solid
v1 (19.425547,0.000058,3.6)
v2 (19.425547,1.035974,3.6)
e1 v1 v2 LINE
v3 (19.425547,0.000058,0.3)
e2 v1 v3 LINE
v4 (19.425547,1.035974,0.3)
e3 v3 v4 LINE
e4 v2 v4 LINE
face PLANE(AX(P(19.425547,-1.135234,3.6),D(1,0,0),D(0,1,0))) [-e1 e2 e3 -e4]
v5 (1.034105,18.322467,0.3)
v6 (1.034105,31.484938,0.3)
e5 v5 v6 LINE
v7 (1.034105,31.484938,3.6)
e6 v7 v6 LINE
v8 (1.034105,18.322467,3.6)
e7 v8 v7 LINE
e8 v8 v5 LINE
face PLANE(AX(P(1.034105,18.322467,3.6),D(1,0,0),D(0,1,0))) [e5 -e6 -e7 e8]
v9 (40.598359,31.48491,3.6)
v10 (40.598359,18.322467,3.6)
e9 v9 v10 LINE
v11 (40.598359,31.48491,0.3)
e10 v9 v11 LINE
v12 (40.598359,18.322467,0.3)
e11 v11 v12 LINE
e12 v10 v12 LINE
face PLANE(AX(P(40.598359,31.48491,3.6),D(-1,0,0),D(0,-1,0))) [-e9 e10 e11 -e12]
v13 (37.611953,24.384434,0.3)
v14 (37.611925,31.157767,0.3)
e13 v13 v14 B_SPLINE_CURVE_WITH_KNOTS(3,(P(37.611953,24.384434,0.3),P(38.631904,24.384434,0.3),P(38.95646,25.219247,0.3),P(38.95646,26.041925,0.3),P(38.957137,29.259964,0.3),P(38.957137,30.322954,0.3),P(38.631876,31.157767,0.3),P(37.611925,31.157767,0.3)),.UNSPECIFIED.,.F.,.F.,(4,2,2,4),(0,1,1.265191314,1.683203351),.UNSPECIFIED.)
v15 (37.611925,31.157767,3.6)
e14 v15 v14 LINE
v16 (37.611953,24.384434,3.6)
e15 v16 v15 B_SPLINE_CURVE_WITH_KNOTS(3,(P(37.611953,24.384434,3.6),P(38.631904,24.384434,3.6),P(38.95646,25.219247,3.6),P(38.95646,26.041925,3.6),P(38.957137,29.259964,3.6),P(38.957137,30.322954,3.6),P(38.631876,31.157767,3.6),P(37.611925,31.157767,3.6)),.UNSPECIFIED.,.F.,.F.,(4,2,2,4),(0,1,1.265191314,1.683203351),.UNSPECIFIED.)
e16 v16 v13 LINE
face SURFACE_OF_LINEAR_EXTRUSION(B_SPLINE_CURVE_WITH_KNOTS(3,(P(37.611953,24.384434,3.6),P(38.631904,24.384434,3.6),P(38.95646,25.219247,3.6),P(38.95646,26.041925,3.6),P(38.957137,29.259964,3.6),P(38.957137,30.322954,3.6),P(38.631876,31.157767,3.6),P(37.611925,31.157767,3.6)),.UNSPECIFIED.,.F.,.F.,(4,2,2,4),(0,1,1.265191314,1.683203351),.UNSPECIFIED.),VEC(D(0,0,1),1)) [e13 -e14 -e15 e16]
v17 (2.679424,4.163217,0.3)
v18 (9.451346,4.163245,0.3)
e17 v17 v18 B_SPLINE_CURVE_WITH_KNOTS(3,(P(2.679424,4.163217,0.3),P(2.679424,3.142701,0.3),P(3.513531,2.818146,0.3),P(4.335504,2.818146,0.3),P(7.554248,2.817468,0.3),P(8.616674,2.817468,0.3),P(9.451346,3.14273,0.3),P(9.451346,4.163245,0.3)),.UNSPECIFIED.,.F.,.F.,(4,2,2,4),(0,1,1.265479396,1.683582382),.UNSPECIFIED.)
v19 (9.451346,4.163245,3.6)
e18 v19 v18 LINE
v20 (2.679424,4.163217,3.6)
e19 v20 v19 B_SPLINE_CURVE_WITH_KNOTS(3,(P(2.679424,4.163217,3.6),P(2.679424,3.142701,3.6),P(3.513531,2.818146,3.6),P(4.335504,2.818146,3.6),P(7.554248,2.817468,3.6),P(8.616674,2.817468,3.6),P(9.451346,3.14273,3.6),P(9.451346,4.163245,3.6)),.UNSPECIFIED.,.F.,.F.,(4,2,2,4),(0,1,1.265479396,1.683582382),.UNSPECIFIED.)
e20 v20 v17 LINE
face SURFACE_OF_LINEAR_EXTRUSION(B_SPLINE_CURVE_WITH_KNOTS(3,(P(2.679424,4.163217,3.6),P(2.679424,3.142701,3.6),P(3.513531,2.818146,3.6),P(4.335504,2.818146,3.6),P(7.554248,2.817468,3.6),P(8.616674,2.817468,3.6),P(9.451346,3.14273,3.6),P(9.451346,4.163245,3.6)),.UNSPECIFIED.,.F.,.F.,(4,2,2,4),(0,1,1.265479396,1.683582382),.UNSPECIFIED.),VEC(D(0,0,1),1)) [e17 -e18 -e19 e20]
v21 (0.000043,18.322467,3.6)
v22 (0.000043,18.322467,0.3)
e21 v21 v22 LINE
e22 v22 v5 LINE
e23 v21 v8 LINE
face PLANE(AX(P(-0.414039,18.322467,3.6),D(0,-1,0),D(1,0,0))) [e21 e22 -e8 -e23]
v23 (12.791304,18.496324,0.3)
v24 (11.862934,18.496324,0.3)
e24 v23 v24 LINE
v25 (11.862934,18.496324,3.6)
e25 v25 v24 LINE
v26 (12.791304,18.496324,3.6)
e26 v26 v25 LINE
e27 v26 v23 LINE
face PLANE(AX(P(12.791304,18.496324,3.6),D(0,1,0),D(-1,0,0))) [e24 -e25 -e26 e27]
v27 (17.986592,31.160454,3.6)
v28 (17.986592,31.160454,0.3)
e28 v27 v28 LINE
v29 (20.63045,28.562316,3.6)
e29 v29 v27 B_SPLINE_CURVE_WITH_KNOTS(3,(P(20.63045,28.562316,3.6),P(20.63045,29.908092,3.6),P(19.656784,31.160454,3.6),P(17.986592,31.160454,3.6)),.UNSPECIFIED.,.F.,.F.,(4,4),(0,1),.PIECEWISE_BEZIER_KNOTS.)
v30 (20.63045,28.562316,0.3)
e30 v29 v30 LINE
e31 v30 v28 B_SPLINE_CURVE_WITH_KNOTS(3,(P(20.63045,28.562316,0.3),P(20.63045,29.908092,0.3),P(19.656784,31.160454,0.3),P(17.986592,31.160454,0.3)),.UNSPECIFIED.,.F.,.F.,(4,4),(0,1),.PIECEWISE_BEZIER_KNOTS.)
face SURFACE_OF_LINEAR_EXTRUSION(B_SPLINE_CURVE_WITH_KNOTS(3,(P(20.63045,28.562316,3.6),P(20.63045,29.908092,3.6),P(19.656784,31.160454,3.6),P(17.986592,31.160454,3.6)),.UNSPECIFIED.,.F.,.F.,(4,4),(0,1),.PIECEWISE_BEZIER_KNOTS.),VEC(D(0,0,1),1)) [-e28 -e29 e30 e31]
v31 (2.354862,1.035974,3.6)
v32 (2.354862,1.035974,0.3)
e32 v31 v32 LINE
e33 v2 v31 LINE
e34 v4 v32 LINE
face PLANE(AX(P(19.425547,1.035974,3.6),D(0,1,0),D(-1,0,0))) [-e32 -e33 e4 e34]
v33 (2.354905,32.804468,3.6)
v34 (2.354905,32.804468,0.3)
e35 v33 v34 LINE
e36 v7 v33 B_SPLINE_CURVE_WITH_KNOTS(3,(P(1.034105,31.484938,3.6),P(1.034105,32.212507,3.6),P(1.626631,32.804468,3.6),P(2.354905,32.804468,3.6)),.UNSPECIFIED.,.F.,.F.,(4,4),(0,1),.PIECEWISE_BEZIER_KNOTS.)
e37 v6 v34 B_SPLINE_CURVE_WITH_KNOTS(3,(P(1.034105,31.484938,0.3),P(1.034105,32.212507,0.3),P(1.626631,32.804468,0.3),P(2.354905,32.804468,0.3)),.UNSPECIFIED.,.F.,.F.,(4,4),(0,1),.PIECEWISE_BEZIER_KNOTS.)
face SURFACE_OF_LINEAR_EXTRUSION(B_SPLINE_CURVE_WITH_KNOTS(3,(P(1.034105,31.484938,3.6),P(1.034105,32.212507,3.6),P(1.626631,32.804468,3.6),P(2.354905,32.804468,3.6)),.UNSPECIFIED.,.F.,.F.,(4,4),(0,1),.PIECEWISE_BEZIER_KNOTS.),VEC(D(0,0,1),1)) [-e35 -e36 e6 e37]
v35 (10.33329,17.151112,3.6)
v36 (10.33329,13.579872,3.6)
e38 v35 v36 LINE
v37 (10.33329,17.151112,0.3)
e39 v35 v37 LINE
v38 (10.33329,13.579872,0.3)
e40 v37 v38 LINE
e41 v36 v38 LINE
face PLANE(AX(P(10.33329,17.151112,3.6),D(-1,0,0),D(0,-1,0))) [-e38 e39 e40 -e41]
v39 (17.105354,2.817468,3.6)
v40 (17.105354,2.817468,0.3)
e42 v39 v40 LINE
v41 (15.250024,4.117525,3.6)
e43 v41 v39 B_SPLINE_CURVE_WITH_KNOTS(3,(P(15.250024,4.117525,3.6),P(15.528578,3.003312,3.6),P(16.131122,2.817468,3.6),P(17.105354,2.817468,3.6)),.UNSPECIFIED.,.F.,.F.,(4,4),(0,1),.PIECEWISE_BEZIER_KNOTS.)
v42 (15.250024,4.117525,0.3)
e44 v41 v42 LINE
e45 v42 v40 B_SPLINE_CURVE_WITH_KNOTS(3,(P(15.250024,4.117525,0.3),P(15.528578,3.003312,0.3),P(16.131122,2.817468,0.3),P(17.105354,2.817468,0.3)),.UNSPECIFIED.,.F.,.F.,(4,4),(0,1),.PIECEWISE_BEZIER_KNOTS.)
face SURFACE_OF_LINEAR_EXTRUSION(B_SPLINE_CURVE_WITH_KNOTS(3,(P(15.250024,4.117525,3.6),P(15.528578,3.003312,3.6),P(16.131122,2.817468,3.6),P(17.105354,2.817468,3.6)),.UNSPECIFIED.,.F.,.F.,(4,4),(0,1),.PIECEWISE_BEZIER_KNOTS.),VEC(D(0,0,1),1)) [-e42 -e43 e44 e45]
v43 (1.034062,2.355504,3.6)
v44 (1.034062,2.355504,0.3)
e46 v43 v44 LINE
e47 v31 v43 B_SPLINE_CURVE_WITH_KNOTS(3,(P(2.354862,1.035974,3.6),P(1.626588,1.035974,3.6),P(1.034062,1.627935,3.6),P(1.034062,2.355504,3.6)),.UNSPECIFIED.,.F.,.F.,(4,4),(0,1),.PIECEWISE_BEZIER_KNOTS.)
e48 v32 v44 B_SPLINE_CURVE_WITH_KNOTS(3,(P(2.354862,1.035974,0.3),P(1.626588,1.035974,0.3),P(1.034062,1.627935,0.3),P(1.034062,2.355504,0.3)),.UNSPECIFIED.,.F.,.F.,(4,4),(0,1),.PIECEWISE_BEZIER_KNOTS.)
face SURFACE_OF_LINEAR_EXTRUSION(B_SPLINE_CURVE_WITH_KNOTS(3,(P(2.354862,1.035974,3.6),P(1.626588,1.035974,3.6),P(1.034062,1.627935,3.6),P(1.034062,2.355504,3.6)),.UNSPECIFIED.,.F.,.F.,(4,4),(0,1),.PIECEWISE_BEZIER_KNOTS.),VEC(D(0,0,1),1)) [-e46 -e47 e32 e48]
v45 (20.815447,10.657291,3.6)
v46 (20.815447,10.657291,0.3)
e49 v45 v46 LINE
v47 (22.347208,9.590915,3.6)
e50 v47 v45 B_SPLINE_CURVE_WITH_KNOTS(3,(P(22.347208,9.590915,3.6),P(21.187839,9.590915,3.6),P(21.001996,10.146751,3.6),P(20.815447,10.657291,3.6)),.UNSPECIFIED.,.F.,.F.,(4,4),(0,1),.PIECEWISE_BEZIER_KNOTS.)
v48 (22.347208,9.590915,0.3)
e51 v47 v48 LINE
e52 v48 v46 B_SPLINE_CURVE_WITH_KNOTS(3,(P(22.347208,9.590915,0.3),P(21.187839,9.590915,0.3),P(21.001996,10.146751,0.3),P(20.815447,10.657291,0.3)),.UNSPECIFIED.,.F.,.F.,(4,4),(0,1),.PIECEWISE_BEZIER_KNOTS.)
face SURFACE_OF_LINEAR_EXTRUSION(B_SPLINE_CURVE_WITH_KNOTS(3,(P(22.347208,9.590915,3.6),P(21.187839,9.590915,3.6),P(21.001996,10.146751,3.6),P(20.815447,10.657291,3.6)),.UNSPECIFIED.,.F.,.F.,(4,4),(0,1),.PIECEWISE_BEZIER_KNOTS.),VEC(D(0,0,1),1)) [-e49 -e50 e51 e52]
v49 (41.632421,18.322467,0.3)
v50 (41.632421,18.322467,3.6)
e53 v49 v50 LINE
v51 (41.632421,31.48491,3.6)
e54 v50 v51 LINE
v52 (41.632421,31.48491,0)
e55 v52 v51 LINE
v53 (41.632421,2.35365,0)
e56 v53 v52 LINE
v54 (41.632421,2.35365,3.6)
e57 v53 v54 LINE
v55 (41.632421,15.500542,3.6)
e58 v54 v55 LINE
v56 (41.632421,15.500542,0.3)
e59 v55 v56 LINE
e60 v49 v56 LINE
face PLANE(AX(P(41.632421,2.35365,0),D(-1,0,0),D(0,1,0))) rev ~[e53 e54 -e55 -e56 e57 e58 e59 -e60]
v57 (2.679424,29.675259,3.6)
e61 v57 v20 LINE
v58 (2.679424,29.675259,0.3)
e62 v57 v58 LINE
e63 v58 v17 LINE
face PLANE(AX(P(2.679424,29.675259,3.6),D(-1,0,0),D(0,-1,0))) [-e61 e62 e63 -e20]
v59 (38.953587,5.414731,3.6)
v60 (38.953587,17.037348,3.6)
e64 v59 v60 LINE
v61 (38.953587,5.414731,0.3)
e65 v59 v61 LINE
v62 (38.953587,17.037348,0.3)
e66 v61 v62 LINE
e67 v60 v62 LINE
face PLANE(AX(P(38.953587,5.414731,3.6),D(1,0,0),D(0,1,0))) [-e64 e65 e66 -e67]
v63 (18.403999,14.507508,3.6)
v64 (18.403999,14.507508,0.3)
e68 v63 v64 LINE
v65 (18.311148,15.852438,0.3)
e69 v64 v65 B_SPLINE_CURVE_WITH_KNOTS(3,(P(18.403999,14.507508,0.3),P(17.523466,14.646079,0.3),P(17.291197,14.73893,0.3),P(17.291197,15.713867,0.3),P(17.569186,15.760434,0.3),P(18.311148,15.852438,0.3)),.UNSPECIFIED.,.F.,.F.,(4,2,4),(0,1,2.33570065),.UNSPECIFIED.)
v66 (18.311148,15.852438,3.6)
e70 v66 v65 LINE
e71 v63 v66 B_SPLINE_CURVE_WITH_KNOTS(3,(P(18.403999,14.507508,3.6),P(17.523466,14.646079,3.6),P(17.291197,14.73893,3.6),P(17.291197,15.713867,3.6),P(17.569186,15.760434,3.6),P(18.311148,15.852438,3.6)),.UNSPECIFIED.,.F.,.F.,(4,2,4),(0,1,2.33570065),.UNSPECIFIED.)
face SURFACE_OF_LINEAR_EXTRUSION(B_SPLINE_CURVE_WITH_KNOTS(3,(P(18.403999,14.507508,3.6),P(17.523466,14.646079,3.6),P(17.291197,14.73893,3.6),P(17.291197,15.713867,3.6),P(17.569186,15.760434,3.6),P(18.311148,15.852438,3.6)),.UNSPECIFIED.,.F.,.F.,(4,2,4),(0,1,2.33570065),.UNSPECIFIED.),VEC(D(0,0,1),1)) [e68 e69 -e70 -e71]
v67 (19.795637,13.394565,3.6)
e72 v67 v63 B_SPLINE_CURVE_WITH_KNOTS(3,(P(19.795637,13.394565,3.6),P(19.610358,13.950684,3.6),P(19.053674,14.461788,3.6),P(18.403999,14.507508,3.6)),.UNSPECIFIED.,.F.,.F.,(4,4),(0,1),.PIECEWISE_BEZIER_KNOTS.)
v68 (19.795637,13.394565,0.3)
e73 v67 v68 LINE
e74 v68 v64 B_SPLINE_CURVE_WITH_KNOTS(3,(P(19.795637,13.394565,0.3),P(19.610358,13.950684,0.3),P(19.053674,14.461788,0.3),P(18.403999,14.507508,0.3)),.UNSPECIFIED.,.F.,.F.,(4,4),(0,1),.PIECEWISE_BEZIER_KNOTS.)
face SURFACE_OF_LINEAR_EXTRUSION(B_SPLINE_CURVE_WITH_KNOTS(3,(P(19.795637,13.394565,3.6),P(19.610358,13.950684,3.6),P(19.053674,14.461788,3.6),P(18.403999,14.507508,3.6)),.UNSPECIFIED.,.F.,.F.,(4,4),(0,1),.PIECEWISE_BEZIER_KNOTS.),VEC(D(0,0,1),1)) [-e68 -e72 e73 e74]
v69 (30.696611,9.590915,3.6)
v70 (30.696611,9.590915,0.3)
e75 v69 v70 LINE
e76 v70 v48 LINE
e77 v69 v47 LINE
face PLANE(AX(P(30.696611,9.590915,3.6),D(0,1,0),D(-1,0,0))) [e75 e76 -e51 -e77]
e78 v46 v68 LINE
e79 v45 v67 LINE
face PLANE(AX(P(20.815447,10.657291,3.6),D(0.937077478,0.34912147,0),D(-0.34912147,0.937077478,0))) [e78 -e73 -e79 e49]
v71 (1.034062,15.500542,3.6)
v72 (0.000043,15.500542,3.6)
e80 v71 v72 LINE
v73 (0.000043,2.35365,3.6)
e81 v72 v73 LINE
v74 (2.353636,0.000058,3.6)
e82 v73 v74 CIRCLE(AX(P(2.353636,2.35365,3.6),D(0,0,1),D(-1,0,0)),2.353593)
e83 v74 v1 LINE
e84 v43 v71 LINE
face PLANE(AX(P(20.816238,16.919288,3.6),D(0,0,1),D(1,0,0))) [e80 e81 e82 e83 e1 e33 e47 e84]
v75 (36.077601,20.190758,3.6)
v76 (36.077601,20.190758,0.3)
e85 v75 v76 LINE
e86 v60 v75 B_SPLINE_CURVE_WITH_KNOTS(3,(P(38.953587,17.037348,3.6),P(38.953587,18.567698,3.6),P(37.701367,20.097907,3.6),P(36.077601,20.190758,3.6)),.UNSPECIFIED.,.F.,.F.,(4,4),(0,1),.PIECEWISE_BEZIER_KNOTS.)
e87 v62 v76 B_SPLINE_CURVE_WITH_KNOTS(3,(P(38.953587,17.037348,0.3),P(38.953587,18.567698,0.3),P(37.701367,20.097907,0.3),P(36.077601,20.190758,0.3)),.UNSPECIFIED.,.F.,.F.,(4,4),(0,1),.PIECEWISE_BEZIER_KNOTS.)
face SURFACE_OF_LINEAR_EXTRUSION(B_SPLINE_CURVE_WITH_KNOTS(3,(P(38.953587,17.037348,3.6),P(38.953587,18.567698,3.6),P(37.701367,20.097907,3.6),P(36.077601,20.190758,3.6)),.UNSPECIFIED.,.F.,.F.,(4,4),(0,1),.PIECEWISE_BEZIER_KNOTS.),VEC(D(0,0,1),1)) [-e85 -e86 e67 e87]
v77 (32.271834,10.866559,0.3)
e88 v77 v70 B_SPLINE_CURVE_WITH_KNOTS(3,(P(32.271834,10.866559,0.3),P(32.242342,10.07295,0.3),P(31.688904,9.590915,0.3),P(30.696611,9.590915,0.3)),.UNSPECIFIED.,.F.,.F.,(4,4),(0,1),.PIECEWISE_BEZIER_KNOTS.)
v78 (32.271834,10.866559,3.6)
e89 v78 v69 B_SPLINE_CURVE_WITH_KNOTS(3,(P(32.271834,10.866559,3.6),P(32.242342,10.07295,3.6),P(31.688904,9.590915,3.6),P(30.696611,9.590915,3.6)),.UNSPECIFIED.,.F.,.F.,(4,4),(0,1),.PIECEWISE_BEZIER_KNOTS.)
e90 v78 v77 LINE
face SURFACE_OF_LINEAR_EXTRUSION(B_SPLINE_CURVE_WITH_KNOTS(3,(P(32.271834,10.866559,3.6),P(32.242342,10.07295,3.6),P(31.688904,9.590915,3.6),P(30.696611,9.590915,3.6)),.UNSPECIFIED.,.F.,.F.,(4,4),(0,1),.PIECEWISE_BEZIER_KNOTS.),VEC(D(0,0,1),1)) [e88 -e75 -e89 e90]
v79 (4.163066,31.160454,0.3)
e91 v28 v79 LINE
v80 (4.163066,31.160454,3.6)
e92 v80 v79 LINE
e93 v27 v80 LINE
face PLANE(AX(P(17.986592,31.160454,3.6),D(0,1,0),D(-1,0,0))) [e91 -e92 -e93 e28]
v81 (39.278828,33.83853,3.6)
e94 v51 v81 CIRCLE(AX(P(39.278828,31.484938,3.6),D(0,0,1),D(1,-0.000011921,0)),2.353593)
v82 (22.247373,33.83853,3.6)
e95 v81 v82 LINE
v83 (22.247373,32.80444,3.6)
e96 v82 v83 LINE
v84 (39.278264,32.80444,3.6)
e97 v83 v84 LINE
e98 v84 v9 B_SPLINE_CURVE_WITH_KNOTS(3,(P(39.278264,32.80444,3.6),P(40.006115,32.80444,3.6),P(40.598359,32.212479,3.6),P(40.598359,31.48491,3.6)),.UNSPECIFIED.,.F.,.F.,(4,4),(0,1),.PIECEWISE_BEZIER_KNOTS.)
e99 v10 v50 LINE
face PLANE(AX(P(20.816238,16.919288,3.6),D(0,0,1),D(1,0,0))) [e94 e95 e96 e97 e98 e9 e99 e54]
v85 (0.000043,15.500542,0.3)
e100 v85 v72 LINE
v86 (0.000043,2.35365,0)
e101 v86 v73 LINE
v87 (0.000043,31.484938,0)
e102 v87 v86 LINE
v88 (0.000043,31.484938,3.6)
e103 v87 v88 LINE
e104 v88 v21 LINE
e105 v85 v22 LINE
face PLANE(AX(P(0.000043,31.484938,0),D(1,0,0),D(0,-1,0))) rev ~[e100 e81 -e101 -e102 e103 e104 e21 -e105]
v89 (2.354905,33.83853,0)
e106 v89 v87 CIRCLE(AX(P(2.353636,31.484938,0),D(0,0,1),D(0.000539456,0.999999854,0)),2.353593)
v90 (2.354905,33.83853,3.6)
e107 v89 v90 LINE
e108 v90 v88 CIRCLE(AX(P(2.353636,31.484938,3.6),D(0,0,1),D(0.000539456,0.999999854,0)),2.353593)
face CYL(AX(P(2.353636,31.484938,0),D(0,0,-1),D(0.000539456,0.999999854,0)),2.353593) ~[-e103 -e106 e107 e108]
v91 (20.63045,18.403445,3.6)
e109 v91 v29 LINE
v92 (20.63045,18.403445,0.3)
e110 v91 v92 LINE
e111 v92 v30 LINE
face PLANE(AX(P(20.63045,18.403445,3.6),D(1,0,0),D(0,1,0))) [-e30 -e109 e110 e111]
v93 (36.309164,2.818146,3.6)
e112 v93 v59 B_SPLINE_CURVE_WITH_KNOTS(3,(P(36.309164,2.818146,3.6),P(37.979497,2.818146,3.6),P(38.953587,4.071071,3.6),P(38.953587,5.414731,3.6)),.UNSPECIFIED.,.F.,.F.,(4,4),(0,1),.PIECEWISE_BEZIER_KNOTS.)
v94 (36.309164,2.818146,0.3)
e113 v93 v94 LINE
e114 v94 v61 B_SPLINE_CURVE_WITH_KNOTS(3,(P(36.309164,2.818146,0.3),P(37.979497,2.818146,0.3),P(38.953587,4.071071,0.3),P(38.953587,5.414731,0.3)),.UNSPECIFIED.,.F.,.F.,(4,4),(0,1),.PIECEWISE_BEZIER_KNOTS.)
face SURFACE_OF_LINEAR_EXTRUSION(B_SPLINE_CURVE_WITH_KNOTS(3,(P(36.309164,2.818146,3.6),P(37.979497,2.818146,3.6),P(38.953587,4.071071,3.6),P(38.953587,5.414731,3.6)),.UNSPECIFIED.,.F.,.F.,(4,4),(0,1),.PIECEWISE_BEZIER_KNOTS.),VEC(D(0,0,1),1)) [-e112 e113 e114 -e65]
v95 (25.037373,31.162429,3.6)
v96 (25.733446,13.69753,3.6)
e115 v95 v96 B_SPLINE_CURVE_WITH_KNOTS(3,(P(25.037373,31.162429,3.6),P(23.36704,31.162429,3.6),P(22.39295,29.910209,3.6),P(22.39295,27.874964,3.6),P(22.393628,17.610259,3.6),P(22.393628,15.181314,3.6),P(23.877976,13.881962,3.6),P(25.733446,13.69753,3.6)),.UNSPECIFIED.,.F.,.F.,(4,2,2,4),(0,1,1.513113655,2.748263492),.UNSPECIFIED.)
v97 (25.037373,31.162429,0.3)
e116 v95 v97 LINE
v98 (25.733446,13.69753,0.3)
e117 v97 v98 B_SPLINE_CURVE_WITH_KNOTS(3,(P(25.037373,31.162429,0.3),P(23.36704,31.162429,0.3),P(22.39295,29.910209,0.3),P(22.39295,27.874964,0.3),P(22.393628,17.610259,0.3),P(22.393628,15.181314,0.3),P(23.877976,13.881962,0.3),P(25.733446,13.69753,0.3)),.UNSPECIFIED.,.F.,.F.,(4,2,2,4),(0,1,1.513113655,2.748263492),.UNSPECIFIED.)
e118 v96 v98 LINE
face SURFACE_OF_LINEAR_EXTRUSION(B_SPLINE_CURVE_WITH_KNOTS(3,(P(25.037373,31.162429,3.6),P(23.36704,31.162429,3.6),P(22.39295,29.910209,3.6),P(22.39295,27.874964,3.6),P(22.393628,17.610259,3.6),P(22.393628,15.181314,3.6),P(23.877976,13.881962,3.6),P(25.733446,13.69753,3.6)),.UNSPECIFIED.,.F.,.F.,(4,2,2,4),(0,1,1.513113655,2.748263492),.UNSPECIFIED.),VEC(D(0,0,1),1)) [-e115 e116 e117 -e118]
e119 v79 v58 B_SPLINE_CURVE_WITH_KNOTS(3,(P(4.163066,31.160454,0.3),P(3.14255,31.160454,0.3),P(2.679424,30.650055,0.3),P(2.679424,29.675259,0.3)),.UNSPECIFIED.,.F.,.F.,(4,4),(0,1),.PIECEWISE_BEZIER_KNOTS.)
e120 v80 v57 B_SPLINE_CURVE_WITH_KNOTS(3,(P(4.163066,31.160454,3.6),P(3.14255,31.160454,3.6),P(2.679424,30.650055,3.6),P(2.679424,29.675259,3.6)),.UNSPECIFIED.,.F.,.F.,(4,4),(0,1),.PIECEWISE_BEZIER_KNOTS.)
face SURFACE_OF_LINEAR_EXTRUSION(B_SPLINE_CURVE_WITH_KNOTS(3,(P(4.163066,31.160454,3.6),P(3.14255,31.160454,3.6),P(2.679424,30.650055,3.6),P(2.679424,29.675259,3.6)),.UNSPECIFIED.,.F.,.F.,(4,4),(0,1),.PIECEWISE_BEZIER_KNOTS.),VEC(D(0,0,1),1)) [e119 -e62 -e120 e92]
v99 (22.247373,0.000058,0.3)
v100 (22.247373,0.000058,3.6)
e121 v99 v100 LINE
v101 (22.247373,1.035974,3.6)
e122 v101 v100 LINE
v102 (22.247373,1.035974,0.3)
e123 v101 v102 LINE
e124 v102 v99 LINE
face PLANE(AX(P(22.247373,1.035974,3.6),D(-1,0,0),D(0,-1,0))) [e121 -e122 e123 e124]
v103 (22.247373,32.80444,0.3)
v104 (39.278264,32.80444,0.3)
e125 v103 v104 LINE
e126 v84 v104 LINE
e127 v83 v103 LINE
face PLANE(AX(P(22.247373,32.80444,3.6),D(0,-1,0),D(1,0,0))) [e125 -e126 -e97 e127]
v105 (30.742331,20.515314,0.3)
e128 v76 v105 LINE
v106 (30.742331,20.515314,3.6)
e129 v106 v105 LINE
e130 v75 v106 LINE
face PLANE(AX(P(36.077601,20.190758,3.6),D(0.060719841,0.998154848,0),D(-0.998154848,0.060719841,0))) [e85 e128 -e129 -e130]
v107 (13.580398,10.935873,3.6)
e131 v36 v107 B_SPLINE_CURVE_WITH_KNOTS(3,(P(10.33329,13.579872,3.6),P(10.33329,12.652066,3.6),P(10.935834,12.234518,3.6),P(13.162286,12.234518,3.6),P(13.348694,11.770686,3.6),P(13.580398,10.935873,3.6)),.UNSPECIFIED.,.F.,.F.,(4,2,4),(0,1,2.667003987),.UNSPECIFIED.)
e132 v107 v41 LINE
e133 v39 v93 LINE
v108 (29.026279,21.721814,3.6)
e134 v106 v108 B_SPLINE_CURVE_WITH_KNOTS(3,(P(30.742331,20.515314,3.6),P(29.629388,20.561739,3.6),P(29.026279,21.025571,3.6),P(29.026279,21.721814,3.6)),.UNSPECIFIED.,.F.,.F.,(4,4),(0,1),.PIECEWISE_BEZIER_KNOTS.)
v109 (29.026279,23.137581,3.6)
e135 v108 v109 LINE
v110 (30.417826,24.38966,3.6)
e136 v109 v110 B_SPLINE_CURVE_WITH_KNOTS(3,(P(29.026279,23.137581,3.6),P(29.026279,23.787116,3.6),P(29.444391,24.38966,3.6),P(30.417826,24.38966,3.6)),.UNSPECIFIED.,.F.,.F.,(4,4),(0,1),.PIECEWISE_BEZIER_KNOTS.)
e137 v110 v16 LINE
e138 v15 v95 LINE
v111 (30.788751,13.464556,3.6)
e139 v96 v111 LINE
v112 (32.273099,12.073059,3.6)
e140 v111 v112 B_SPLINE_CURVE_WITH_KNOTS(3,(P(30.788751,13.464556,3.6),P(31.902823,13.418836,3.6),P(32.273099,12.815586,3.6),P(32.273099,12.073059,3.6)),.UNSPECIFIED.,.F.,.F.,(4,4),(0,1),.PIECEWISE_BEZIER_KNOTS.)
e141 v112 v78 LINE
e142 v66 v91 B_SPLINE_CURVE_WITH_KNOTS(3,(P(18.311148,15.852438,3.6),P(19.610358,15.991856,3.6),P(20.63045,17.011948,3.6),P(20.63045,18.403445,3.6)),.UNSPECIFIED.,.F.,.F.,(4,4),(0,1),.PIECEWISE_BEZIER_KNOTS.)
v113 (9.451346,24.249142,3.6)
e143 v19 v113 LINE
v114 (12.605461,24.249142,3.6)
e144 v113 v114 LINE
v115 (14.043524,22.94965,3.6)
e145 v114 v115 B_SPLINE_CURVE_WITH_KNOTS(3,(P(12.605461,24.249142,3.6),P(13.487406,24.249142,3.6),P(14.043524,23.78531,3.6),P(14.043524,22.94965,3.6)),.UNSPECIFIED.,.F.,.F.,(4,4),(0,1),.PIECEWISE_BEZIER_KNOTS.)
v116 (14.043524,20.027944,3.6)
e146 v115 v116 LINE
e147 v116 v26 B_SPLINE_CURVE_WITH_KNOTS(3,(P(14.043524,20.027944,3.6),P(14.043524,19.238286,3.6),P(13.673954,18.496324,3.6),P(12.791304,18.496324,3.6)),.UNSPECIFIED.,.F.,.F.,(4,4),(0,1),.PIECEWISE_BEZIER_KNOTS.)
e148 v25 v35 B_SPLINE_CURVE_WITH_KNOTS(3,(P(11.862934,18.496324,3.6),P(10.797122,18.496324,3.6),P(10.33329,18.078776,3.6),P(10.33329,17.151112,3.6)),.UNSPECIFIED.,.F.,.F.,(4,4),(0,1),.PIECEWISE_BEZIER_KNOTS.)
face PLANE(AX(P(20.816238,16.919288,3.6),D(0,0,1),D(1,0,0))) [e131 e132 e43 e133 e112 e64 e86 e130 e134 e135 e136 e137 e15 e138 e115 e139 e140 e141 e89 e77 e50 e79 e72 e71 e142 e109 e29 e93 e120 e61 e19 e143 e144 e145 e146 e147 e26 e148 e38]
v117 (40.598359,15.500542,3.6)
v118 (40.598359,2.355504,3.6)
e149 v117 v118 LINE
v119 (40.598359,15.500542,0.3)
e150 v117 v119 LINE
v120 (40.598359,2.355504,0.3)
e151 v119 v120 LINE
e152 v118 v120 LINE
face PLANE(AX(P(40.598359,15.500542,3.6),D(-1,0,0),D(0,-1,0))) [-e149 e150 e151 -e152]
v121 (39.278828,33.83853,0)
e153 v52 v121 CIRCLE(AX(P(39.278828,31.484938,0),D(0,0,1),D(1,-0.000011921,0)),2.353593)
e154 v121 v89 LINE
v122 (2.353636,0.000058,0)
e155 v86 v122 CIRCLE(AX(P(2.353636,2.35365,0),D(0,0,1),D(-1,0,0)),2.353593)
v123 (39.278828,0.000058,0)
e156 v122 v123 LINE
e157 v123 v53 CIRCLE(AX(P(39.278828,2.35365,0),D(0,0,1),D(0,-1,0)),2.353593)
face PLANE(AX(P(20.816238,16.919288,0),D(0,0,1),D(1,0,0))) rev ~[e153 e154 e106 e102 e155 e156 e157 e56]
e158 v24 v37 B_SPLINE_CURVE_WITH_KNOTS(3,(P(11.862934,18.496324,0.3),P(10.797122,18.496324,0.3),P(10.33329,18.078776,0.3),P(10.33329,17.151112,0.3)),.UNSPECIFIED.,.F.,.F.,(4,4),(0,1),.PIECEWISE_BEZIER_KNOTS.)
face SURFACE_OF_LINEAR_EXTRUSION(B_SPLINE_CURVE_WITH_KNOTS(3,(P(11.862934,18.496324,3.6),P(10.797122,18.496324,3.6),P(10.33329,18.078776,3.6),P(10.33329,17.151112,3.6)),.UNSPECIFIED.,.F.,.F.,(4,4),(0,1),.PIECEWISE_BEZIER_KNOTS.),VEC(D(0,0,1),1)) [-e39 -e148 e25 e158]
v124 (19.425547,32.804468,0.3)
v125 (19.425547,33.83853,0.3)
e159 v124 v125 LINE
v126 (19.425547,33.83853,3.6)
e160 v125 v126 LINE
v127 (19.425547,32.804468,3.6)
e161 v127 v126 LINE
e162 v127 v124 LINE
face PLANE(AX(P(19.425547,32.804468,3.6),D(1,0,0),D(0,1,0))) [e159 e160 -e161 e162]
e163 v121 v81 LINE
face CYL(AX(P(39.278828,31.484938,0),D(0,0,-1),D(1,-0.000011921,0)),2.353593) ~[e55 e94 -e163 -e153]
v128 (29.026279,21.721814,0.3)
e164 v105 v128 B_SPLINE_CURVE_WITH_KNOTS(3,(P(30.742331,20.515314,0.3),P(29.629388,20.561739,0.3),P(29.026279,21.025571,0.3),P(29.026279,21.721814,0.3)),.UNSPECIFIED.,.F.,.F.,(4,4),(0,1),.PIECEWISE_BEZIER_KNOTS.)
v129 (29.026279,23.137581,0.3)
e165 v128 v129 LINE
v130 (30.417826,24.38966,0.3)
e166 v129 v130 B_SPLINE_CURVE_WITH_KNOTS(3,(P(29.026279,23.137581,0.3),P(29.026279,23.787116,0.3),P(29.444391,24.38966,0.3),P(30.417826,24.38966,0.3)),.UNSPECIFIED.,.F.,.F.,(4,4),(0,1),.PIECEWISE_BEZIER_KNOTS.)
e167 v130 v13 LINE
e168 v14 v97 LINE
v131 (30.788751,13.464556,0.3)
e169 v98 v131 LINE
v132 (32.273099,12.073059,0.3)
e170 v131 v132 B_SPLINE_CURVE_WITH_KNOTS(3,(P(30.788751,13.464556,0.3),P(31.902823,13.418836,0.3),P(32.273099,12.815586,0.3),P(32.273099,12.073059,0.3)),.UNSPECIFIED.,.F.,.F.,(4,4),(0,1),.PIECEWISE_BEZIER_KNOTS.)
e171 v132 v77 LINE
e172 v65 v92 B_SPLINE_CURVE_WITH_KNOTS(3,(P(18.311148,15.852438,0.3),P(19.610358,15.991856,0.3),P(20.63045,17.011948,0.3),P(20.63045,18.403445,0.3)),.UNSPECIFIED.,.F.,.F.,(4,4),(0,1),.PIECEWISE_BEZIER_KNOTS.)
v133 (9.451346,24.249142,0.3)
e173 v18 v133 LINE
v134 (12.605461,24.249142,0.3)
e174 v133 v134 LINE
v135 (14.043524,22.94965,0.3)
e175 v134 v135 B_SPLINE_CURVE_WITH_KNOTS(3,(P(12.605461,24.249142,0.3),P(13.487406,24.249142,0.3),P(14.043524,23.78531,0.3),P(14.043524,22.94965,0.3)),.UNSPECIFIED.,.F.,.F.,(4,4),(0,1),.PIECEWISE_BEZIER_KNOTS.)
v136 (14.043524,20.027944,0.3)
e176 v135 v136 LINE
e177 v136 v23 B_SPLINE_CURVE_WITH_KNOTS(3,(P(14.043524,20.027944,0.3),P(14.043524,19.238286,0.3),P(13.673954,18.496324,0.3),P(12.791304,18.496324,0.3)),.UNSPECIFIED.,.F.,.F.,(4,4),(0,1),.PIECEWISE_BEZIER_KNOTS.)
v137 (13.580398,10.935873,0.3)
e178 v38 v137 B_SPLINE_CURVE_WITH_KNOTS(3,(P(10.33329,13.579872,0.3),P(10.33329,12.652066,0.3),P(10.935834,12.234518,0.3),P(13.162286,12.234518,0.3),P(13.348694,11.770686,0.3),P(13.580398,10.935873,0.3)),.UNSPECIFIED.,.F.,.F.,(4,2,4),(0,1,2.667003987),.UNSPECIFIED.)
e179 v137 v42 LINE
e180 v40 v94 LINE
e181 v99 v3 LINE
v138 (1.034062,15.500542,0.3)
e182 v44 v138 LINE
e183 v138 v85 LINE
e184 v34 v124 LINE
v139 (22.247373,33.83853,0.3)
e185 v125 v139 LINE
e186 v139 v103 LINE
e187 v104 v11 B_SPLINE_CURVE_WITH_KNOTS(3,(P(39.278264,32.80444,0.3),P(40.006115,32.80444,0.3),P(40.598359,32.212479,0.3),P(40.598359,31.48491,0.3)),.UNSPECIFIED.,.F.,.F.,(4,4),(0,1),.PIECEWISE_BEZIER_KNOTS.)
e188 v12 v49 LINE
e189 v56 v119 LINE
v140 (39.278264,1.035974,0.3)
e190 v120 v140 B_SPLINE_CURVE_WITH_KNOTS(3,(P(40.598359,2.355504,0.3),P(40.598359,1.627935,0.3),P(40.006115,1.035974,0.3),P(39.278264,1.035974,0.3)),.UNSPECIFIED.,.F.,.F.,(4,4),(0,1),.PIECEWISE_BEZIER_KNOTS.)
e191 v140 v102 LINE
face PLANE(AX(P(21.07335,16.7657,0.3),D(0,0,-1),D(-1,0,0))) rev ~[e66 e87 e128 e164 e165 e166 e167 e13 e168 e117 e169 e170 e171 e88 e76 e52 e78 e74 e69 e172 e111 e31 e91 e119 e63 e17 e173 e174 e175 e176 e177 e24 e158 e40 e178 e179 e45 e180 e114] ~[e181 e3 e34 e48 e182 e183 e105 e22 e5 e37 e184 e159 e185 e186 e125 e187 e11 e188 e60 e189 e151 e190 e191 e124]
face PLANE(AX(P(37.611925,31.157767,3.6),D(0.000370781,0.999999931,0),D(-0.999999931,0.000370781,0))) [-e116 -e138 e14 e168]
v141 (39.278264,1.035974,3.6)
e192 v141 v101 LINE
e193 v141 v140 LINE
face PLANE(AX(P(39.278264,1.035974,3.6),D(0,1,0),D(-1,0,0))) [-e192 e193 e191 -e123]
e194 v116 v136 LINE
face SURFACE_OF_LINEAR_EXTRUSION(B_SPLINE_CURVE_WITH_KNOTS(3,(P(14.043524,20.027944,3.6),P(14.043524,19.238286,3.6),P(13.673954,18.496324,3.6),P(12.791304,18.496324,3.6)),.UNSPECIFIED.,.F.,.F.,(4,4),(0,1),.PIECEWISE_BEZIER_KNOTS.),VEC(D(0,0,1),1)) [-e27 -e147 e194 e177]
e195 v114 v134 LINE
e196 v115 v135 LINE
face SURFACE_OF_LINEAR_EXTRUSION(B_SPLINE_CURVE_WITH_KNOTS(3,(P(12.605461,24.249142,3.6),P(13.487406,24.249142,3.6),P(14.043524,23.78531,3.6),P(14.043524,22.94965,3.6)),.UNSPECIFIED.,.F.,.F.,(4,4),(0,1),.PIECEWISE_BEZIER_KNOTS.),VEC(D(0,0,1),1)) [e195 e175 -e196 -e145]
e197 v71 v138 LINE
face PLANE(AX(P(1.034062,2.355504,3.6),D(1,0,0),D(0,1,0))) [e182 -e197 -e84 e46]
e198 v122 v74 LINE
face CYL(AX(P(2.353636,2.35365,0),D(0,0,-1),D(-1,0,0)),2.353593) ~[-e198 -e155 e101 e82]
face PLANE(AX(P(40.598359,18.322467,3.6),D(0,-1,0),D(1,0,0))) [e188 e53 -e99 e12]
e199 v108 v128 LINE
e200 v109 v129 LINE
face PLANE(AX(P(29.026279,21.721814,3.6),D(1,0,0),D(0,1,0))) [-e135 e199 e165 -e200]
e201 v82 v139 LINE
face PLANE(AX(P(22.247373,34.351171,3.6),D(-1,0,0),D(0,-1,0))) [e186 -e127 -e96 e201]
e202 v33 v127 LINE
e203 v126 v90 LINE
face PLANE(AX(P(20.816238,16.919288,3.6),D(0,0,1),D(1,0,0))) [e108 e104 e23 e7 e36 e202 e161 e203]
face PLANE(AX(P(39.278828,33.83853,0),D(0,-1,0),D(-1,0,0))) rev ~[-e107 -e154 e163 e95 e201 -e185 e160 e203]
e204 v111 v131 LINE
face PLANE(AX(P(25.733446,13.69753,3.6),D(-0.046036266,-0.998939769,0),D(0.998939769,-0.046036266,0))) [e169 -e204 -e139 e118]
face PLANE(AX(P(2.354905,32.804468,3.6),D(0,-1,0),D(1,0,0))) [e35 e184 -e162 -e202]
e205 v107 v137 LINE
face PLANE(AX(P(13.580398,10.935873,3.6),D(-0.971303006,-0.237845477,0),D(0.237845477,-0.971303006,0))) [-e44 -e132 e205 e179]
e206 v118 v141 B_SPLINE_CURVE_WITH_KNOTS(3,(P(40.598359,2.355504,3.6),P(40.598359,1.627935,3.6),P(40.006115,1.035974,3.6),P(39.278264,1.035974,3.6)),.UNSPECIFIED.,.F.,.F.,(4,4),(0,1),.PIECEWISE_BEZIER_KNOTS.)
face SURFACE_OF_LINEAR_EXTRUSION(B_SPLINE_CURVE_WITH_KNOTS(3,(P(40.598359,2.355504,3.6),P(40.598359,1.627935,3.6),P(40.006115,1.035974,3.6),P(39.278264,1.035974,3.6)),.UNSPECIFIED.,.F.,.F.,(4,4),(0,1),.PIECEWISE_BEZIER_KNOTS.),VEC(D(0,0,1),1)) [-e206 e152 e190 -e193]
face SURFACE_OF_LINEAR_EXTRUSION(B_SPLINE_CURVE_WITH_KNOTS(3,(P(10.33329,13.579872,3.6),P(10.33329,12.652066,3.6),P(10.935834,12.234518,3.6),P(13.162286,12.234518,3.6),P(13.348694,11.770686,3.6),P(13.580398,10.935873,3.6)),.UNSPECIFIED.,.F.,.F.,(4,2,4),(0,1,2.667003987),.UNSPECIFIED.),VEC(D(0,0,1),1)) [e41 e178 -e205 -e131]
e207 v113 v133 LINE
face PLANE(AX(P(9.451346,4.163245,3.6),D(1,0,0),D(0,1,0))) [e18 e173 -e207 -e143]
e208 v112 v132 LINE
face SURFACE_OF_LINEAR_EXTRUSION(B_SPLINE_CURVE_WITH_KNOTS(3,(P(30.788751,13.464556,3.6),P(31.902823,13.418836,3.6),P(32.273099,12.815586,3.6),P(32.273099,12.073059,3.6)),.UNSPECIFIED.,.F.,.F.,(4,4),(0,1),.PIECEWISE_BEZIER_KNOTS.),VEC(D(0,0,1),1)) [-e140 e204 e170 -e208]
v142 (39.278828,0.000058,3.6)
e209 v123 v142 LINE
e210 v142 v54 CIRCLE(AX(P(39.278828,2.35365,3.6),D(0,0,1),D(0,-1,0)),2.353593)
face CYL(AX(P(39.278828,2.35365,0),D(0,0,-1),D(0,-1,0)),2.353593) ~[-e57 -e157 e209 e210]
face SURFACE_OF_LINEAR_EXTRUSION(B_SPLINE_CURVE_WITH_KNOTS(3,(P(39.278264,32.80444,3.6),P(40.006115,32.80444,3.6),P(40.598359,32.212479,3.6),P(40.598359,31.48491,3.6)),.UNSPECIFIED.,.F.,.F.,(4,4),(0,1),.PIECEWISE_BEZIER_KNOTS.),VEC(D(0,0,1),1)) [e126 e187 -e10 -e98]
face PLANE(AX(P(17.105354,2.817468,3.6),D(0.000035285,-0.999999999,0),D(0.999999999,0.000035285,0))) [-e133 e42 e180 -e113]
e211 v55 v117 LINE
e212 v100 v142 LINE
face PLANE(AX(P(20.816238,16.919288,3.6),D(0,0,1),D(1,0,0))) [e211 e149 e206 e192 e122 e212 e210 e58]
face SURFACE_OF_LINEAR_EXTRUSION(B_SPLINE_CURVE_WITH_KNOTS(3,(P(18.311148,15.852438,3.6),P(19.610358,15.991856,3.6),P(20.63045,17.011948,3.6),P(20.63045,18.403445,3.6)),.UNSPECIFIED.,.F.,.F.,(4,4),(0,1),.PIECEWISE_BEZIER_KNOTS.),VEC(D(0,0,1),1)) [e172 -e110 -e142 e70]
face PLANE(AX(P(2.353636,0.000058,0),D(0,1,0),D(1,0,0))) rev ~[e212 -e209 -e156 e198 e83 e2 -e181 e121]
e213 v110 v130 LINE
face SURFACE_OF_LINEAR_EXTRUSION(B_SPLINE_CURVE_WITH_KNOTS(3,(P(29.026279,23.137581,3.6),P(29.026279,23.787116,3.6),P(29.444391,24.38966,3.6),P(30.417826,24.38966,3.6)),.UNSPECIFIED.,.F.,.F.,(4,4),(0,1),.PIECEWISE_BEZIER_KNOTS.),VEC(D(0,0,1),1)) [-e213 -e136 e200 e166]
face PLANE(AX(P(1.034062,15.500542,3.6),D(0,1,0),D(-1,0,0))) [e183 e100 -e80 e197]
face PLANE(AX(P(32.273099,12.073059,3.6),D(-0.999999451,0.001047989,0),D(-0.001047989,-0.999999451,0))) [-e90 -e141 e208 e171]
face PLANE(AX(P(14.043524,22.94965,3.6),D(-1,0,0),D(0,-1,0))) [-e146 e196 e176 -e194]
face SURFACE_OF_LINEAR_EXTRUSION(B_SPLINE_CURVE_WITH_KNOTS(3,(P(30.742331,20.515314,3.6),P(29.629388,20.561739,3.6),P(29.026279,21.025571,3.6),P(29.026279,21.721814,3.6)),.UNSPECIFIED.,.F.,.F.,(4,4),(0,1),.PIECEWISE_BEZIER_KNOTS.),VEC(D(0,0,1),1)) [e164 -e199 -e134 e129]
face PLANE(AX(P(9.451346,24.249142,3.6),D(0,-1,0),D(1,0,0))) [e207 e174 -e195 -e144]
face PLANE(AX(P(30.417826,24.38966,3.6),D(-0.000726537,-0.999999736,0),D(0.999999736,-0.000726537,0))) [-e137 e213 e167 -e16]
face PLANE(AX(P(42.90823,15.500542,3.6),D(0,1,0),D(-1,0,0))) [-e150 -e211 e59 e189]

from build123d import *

# Parameters (mm, degrees)
BOSS_EXTRUDE1_DEPTH = 3.6
CUT_EXTRUDE1_DEPTH  = 3.3


with BuildPart() as part:
    # Sketch2 → Boss-Extrude1 (new body)
    with BuildSketch(Plane.XY):
        with BuildLine():
            Line((2.353635542, 5.7532e-05), (39.278828058, 5.7532e-05))
            ThreePointArc((39.278828058, 5.7532e-05), (40.943069446, 0.689408886), (41.6324208, 2.353650275))
            Line((41.6324208, 2.353650275), (41.6324208, 31.4849096))
            ThreePointArc((41.6324208, 31.4849096), (40.943079366, 33.149169126), (39.278828058, 33.8385304))
            Line((39.278828058, 33.8385304), (2.3549052, 33.8385304))
            ThreePointArc((2.3549052, 33.8385304), (0.689843106, 33.14962822), (4.28e-05, 31.484938))
            Line((4.28e-05, 31.484938), (4.28e-05, 2.353650275))
            ThreePointArc((4.28e-05, 2.353650275), (0.689394154, 0.689408886), (2.353635542, 5.7532e-05))
        make_face()
    extrude(amount=BOSS_EXTRUDE1_DEPTH)

    # Sketch6 → Cut-Extrude1 (cut)
    with BuildSketch(Plane.XY.offset(3.6)):
        with BuildLine():
            Line((40.5983588, 31.4849096), (40.5983588, 18.3224668))
            Line((40.5983588, 18.3224668), (42.908229667, 18.3224668))
            Line((42.908229667, 18.3224668), (42.908229667, 15.5005424))
            Line((42.908229667, 15.5005424), (40.5983588, 15.5005424))
            Line((40.5983588, 15.5005424), (40.5983588, 2.355504281))
            add(Edge.make_bspline(
                [(40.5983588, 2.355504281), (40.5983588, 1.627935481), (40.0061152, 1.035974281), (39.2782644, 1.035974281)],
                knots=[0, 0, 0, 0, 1, 1, 1, 1], degree=3))
            Line((39.2782644, 1.035974281), (22.2473732, 1.035974281))
            Line((22.2473732, 1.035974281), (22.2473732, -1.135233513))
            Line((22.2473732, -1.135233513), (19.4255468, -1.135233513))
            Line((19.4255468, -1.135233513), (19.4255468, 1.035974281))
            Line((19.4255468, 1.035974281), (2.3548624, 1.035974281))
            add(Edge.make_bspline(
                [(2.3548624, 1.035974281), (1.6265876, 1.035974281), (1.0340624, 1.627935481), (1.0340624, 2.355504281)],
                knots=[0, 0, 0, 0, 1, 1, 1, 1], degree=3))
            Line((1.0340624, 2.355504281), (1.0340624, 15.5005424))
            Line((1.0340624, 15.5005424), (-0.414039232, 15.5005424))
            Line((-0.414039232, 15.5005424), (-0.414039232, 18.3224668))
            Line((-0.414039232, 18.3224668), (1.0341052, 18.3224668))
            Line((1.0341052, 18.3224668), (1.0341052, 31.484938))
            add(Edge.make_bspline(
                [(1.0341052, 31.484938), (1.0341052, 32.2125068), (1.6266308, 32.804468), (2.3549052, 32.804468)],
                knots=[0, 0, 0, 0, 1, 1, 1, 1], degree=3))
            Line((2.3549052, 32.804468), (19.4255468, 32.804468))
            Line((19.4255468, 32.804468), (19.4255468, 34.35117076))
            Line((19.4255468, 34.35117076), (22.2473732, 34.35117076))
            Line((22.2473732, 34.35117076), (22.2473732, 32.8044396))
            Line((22.2473732, 32.8044396), (39.2782644, 32.8044396))
            add(Edge.make_bspline(
                [(39.2782644, 32.8044396), (40.0061152, 32.8044396), (40.5983588, 32.2124788), (40.5983588, 31.4849096)],
                knots=[0, 0, 0, 0, 1, 1, 1, 1], degree=3))
        make_face()
        with BuildLine():
            Line((30.4178264, 24.3896604), (37.6119532, 24.3844336))
            add(Edge.make_bspline(
                [(37.6119532, 24.3844336), (38.6319044, 24.3844336), (38.9564596, 25.2192468), (38.9564596, 25.8694868)],
                knots=[0, 0, 0, 0, 1, 1, 1, 1], degree=3))
            add(Edge.make_bspline(
                [(38.9564596, 25.8694868), (38.9564596, 26.0419248), (38.9571372, 29.2599636), (38.9571372, 29.6725724)],
                knots=[0, 0, 0, 0, 1, 1, 1, 1], degree=3))
            add(Edge.make_bspline(
                [(38.9571372, 29.6725724), (38.9571372, 30.3229536), (38.631876, 31.1577668), (37.6119248, 31.1577668)],
                knots=[0, 0, 0, 0, 1, 1, 1, 1], degree=3))
            Line((37.6119248, 31.1577668), (25.0373728, 31.1624292))
            add(Edge.make_bspline(
                [(25.0373728, 31.1624292), (23.3670404, 31.1624292), (22.3929504, 29.9102092), (22.3929504, 28.565138)],
                knots=[0, 0, 0, 0, 1, 1, 1, 1], degree=3))
            add(Edge.make_bspline(
                [(22.3929504, 28.565138), (22.3929504, 27.8749636), (22.3936276, 17.6102592), (22.3936276, 16.897366)],
                knots=[0, 0, 0, 0, 1, 1, 1, 1], degree=3))
            add(Edge.make_bspline(
                [(22.3936276, 16.897366), (22.3936276, 15.1813136), (23.8779756, 13.8819624), (25.7334456, 13.6975304)],
                knots=[0, 0, 0, 0, 1, 1, 1, 1], degree=3))
            Line((25.7334456, 13.6975304), (30.7887512, 13.464556))
            add(Edge.make_bspline(
                [(30.7887512, 13.464556), (31.9028232, 13.418836), (32.2730988, 12.815586), (32.2730988, 12.0730592)],
                knots=[0, 0, 0, 0, 1, 1, 1, 1], degree=3))
            Line((32.2730988, 12.0730592), (32.2718344, 10.8665592))
            add(Edge.make_bspline(
                [(32.2718344, 10.8665592), (32.2423424, 10.0729504), (31.6889044, 9.5909148), (30.6966112, 9.5909148)],
                knots=[0, 0, 0, 0, 1, 1, 1, 1], degree=3))
            Line((30.6966112, 9.5909148), (22.347208, 9.5909148))
            add(Edge.make_bspline(
                [(22.347208, 9.5909148), (21.1878388, 9.5909148), (21.0019956, 10.1467512), (20.8154468, 10.6572912)],
                knots=[0, 0, 0, 0, 1, 1, 1, 1], degree=3))
            Line((20.8154468, 10.6572912), (19.7956368, 13.3945648))
            add(Edge.make_bspline(
                [(19.7956368, 13.3945648), (19.610358, 13.9506836), (19.0536744, 14.461788), (18.4039988, 14.507508)],
                knots=[0, 0, 0, 0, 1, 1, 1, 1], degree=3))
            add(Edge.make_bspline(
                [(18.4039988, 14.507508), (17.5234656, 14.6460792), (17.2911968, 14.7389304), (17.2911968, 15.1563368)],
                knots=[0, 0, 0, 0, 1, 1, 1, 1], degree=3))
            add(Edge.make_bspline(
                [(17.2911968, 15.1563368), (17.2911968, 15.7138668), (17.5691856, 15.7604336), (18.311148, 15.852438)],
                knots=[0, 0, 0, 0, 1, 1, 1, 1], degree=3))
            add(Edge.make_bspline(
                [(18.311148, 15.852438), (19.610358, 15.991856), (20.63045, 17.011948), (20.63045, 18.4034448)],
                knots=[0, 0, 0, 0, 1, 1, 1, 1], degree=3))
            Line((20.63045, 18.4034448), (20.63045, 28.562316))
            add(Edge.make_bspline(
                [(20.63045, 28.562316), (20.63045, 29.9080924), (19.6567836, 31.1604536), (17.9865924, 31.1604536)],
                knots=[0, 0, 0, 0, 1, 1, 1, 1], degree=3))
            Line((17.9865924, 31.1604536), (4.1630656, 31.1604536))
            add(Edge.make_bspline(
                [(4.1630656, 31.1604536), (3.14255, 31.1604536), (2.6794236, 30.6500548), (2.6794236, 29.6752592)],
                knots=[0, 0, 0, 0, 1, 1, 1, 1], degree=3))
            Line((2.6794236, 29.6752592), (2.6794236, 4.1632168))
            add(Edge.make_bspline(
                [(2.6794236, 4.1632168), (2.6794236, 3.1427012), (3.5135312, 2.818146), (4.1630656, 2.818146)],
                knots=[0, 0, 0, 0, 1, 1, 1, 1], degree=3))
            add(Edge.make_bspline(
                [(4.1630656, 2.818146), (4.3355036, 2.818146), (7.554248, 2.8174684), (7.9668568, 2.8174684)],
                knots=[0, 0, 0, 0, 1, 1, 1, 1], degree=3))
            add(Edge.make_bspline(
                [(7.9668568, 2.8174684), (8.6166736, 2.8174684), (9.4513456, 3.1427296), (9.4513456, 4.1632452)],
                knots=[0, 0, 0, 0, 1, 1, 1, 1], degree=3))
            Line((9.4513456, 4.1632452), (9.4513456, 24.249142))
            Line((9.4513456, 24.249142), (12.6054612, 24.249142))
            add(Edge.make_bspline(
                [(12.6054612, 24.249142), (13.4874056, 24.249142), (14.0435244, 23.7853096), (14.0435244, 22.9496496)],
                knots=[0, 0, 0, 0, 1, 1, 1, 1], degree=3))
            Line((14.0435244, 22.9496496), (14.0435244, 20.027944))
            add(Edge.make_bspline(
                [(14.0435244, 20.027944), (14.0435244, 19.2382864), (13.6739544, 18.496324), (12.7913044, 18.496324)],
                knots=[0, 0, 0, 0, 1, 1, 1, 1], degree=3))
            Line((12.7913044, 18.496324), (11.8629344, 18.496324))
            add(Edge.make_bspline(
                [(11.8629344, 18.496324), (10.7971224, 18.496324), (10.33329, 18.0787764), (10.33329, 17.151112)],
                knots=[0, 0, 0, 0, 1, 1, 1, 1], degree=3))
            Line((10.33329, 17.151112), (10.33329, 13.579872))
            add(Edge.make_bspline(
                [(10.33329, 13.579872), (10.33329, 12.6520664), (10.9358344, 12.2345184), (11.770648, 12.2345184)],
                knots=[0, 0, 0, 0, 1, 1, 1, 1], degree=3))
            add(Edge.make_bspline(
                [(11.770648, 12.2345184), (13.1622856, 12.2345184), (13.3486936, 11.7706864), (13.580398, 10.9358728)],
                knots=[0, 0, 0, 0, 1, 1, 1, 1], degree=3))
            Line((13.580398, 10.9358728), (15.2500244, 4.1175252))
            add(Edge.make_bspline(
                [(15.2500244, 4.1175252), (15.528578, 3.003312), (16.1311224, 2.8174684), (17.1053536, 2.8174684)],
                knots=[0, 0, 0, 0, 1, 1, 1, 1], degree=3))
            Line((17.1053536, 2.8174684), (36.3091644, 2.818146))
            add(Edge.make_bspline(
                [(36.3091644, 2.818146), (37.9794968, 2.818146), (38.9535868, 4.0710712), (38.9535868, 5.4147312)],
                knots=[0, 0, 0, 0, 1, 1, 1, 1], degree=3))
            Line((38.9535868, 5.4147312), (38.9535868, 17.037348))
            add(Edge.make_bspline(
                [(38.9535868, 17.037348), (38.9535868, 18.567698), (37.7013668, 20.0979068), (36.0776012, 20.190758)],
                knots=[0, 0, 0, 0, 1, 1, 1, 1], degree=3))
            Line((36.0776012, 20.190758), (30.7423312, 20.5153136))
            add(Edge.make_bspline(
                [(30.7423312, 20.5153136), (29.629388, 20.5617392), (29.0262788, 21.0255712), (29.0262788, 21.7218136)],
                knots=[0, 0, 0, 0, 1, 1, 1, 1], degree=3))
            Line((29.0262788, 21.7218136), (29.0262788, 23.1375812))
            add(Edge.make_bspline(
                [(29.0262788, 23.1375812), (29.0262788, 23.787116), (29.4443912, 24.3896604), (30.4178264, 24.3896604)],
                knots=[0, 0, 0, 0, 1, 1, 1, 1], degree=3))
        make_face(mode=Mode.SUBTRACT)
    extrude(amount=-CUT_EXTRUDE1_DEPTH, mode=Mode.SUBTRACT)


solid = part.part
